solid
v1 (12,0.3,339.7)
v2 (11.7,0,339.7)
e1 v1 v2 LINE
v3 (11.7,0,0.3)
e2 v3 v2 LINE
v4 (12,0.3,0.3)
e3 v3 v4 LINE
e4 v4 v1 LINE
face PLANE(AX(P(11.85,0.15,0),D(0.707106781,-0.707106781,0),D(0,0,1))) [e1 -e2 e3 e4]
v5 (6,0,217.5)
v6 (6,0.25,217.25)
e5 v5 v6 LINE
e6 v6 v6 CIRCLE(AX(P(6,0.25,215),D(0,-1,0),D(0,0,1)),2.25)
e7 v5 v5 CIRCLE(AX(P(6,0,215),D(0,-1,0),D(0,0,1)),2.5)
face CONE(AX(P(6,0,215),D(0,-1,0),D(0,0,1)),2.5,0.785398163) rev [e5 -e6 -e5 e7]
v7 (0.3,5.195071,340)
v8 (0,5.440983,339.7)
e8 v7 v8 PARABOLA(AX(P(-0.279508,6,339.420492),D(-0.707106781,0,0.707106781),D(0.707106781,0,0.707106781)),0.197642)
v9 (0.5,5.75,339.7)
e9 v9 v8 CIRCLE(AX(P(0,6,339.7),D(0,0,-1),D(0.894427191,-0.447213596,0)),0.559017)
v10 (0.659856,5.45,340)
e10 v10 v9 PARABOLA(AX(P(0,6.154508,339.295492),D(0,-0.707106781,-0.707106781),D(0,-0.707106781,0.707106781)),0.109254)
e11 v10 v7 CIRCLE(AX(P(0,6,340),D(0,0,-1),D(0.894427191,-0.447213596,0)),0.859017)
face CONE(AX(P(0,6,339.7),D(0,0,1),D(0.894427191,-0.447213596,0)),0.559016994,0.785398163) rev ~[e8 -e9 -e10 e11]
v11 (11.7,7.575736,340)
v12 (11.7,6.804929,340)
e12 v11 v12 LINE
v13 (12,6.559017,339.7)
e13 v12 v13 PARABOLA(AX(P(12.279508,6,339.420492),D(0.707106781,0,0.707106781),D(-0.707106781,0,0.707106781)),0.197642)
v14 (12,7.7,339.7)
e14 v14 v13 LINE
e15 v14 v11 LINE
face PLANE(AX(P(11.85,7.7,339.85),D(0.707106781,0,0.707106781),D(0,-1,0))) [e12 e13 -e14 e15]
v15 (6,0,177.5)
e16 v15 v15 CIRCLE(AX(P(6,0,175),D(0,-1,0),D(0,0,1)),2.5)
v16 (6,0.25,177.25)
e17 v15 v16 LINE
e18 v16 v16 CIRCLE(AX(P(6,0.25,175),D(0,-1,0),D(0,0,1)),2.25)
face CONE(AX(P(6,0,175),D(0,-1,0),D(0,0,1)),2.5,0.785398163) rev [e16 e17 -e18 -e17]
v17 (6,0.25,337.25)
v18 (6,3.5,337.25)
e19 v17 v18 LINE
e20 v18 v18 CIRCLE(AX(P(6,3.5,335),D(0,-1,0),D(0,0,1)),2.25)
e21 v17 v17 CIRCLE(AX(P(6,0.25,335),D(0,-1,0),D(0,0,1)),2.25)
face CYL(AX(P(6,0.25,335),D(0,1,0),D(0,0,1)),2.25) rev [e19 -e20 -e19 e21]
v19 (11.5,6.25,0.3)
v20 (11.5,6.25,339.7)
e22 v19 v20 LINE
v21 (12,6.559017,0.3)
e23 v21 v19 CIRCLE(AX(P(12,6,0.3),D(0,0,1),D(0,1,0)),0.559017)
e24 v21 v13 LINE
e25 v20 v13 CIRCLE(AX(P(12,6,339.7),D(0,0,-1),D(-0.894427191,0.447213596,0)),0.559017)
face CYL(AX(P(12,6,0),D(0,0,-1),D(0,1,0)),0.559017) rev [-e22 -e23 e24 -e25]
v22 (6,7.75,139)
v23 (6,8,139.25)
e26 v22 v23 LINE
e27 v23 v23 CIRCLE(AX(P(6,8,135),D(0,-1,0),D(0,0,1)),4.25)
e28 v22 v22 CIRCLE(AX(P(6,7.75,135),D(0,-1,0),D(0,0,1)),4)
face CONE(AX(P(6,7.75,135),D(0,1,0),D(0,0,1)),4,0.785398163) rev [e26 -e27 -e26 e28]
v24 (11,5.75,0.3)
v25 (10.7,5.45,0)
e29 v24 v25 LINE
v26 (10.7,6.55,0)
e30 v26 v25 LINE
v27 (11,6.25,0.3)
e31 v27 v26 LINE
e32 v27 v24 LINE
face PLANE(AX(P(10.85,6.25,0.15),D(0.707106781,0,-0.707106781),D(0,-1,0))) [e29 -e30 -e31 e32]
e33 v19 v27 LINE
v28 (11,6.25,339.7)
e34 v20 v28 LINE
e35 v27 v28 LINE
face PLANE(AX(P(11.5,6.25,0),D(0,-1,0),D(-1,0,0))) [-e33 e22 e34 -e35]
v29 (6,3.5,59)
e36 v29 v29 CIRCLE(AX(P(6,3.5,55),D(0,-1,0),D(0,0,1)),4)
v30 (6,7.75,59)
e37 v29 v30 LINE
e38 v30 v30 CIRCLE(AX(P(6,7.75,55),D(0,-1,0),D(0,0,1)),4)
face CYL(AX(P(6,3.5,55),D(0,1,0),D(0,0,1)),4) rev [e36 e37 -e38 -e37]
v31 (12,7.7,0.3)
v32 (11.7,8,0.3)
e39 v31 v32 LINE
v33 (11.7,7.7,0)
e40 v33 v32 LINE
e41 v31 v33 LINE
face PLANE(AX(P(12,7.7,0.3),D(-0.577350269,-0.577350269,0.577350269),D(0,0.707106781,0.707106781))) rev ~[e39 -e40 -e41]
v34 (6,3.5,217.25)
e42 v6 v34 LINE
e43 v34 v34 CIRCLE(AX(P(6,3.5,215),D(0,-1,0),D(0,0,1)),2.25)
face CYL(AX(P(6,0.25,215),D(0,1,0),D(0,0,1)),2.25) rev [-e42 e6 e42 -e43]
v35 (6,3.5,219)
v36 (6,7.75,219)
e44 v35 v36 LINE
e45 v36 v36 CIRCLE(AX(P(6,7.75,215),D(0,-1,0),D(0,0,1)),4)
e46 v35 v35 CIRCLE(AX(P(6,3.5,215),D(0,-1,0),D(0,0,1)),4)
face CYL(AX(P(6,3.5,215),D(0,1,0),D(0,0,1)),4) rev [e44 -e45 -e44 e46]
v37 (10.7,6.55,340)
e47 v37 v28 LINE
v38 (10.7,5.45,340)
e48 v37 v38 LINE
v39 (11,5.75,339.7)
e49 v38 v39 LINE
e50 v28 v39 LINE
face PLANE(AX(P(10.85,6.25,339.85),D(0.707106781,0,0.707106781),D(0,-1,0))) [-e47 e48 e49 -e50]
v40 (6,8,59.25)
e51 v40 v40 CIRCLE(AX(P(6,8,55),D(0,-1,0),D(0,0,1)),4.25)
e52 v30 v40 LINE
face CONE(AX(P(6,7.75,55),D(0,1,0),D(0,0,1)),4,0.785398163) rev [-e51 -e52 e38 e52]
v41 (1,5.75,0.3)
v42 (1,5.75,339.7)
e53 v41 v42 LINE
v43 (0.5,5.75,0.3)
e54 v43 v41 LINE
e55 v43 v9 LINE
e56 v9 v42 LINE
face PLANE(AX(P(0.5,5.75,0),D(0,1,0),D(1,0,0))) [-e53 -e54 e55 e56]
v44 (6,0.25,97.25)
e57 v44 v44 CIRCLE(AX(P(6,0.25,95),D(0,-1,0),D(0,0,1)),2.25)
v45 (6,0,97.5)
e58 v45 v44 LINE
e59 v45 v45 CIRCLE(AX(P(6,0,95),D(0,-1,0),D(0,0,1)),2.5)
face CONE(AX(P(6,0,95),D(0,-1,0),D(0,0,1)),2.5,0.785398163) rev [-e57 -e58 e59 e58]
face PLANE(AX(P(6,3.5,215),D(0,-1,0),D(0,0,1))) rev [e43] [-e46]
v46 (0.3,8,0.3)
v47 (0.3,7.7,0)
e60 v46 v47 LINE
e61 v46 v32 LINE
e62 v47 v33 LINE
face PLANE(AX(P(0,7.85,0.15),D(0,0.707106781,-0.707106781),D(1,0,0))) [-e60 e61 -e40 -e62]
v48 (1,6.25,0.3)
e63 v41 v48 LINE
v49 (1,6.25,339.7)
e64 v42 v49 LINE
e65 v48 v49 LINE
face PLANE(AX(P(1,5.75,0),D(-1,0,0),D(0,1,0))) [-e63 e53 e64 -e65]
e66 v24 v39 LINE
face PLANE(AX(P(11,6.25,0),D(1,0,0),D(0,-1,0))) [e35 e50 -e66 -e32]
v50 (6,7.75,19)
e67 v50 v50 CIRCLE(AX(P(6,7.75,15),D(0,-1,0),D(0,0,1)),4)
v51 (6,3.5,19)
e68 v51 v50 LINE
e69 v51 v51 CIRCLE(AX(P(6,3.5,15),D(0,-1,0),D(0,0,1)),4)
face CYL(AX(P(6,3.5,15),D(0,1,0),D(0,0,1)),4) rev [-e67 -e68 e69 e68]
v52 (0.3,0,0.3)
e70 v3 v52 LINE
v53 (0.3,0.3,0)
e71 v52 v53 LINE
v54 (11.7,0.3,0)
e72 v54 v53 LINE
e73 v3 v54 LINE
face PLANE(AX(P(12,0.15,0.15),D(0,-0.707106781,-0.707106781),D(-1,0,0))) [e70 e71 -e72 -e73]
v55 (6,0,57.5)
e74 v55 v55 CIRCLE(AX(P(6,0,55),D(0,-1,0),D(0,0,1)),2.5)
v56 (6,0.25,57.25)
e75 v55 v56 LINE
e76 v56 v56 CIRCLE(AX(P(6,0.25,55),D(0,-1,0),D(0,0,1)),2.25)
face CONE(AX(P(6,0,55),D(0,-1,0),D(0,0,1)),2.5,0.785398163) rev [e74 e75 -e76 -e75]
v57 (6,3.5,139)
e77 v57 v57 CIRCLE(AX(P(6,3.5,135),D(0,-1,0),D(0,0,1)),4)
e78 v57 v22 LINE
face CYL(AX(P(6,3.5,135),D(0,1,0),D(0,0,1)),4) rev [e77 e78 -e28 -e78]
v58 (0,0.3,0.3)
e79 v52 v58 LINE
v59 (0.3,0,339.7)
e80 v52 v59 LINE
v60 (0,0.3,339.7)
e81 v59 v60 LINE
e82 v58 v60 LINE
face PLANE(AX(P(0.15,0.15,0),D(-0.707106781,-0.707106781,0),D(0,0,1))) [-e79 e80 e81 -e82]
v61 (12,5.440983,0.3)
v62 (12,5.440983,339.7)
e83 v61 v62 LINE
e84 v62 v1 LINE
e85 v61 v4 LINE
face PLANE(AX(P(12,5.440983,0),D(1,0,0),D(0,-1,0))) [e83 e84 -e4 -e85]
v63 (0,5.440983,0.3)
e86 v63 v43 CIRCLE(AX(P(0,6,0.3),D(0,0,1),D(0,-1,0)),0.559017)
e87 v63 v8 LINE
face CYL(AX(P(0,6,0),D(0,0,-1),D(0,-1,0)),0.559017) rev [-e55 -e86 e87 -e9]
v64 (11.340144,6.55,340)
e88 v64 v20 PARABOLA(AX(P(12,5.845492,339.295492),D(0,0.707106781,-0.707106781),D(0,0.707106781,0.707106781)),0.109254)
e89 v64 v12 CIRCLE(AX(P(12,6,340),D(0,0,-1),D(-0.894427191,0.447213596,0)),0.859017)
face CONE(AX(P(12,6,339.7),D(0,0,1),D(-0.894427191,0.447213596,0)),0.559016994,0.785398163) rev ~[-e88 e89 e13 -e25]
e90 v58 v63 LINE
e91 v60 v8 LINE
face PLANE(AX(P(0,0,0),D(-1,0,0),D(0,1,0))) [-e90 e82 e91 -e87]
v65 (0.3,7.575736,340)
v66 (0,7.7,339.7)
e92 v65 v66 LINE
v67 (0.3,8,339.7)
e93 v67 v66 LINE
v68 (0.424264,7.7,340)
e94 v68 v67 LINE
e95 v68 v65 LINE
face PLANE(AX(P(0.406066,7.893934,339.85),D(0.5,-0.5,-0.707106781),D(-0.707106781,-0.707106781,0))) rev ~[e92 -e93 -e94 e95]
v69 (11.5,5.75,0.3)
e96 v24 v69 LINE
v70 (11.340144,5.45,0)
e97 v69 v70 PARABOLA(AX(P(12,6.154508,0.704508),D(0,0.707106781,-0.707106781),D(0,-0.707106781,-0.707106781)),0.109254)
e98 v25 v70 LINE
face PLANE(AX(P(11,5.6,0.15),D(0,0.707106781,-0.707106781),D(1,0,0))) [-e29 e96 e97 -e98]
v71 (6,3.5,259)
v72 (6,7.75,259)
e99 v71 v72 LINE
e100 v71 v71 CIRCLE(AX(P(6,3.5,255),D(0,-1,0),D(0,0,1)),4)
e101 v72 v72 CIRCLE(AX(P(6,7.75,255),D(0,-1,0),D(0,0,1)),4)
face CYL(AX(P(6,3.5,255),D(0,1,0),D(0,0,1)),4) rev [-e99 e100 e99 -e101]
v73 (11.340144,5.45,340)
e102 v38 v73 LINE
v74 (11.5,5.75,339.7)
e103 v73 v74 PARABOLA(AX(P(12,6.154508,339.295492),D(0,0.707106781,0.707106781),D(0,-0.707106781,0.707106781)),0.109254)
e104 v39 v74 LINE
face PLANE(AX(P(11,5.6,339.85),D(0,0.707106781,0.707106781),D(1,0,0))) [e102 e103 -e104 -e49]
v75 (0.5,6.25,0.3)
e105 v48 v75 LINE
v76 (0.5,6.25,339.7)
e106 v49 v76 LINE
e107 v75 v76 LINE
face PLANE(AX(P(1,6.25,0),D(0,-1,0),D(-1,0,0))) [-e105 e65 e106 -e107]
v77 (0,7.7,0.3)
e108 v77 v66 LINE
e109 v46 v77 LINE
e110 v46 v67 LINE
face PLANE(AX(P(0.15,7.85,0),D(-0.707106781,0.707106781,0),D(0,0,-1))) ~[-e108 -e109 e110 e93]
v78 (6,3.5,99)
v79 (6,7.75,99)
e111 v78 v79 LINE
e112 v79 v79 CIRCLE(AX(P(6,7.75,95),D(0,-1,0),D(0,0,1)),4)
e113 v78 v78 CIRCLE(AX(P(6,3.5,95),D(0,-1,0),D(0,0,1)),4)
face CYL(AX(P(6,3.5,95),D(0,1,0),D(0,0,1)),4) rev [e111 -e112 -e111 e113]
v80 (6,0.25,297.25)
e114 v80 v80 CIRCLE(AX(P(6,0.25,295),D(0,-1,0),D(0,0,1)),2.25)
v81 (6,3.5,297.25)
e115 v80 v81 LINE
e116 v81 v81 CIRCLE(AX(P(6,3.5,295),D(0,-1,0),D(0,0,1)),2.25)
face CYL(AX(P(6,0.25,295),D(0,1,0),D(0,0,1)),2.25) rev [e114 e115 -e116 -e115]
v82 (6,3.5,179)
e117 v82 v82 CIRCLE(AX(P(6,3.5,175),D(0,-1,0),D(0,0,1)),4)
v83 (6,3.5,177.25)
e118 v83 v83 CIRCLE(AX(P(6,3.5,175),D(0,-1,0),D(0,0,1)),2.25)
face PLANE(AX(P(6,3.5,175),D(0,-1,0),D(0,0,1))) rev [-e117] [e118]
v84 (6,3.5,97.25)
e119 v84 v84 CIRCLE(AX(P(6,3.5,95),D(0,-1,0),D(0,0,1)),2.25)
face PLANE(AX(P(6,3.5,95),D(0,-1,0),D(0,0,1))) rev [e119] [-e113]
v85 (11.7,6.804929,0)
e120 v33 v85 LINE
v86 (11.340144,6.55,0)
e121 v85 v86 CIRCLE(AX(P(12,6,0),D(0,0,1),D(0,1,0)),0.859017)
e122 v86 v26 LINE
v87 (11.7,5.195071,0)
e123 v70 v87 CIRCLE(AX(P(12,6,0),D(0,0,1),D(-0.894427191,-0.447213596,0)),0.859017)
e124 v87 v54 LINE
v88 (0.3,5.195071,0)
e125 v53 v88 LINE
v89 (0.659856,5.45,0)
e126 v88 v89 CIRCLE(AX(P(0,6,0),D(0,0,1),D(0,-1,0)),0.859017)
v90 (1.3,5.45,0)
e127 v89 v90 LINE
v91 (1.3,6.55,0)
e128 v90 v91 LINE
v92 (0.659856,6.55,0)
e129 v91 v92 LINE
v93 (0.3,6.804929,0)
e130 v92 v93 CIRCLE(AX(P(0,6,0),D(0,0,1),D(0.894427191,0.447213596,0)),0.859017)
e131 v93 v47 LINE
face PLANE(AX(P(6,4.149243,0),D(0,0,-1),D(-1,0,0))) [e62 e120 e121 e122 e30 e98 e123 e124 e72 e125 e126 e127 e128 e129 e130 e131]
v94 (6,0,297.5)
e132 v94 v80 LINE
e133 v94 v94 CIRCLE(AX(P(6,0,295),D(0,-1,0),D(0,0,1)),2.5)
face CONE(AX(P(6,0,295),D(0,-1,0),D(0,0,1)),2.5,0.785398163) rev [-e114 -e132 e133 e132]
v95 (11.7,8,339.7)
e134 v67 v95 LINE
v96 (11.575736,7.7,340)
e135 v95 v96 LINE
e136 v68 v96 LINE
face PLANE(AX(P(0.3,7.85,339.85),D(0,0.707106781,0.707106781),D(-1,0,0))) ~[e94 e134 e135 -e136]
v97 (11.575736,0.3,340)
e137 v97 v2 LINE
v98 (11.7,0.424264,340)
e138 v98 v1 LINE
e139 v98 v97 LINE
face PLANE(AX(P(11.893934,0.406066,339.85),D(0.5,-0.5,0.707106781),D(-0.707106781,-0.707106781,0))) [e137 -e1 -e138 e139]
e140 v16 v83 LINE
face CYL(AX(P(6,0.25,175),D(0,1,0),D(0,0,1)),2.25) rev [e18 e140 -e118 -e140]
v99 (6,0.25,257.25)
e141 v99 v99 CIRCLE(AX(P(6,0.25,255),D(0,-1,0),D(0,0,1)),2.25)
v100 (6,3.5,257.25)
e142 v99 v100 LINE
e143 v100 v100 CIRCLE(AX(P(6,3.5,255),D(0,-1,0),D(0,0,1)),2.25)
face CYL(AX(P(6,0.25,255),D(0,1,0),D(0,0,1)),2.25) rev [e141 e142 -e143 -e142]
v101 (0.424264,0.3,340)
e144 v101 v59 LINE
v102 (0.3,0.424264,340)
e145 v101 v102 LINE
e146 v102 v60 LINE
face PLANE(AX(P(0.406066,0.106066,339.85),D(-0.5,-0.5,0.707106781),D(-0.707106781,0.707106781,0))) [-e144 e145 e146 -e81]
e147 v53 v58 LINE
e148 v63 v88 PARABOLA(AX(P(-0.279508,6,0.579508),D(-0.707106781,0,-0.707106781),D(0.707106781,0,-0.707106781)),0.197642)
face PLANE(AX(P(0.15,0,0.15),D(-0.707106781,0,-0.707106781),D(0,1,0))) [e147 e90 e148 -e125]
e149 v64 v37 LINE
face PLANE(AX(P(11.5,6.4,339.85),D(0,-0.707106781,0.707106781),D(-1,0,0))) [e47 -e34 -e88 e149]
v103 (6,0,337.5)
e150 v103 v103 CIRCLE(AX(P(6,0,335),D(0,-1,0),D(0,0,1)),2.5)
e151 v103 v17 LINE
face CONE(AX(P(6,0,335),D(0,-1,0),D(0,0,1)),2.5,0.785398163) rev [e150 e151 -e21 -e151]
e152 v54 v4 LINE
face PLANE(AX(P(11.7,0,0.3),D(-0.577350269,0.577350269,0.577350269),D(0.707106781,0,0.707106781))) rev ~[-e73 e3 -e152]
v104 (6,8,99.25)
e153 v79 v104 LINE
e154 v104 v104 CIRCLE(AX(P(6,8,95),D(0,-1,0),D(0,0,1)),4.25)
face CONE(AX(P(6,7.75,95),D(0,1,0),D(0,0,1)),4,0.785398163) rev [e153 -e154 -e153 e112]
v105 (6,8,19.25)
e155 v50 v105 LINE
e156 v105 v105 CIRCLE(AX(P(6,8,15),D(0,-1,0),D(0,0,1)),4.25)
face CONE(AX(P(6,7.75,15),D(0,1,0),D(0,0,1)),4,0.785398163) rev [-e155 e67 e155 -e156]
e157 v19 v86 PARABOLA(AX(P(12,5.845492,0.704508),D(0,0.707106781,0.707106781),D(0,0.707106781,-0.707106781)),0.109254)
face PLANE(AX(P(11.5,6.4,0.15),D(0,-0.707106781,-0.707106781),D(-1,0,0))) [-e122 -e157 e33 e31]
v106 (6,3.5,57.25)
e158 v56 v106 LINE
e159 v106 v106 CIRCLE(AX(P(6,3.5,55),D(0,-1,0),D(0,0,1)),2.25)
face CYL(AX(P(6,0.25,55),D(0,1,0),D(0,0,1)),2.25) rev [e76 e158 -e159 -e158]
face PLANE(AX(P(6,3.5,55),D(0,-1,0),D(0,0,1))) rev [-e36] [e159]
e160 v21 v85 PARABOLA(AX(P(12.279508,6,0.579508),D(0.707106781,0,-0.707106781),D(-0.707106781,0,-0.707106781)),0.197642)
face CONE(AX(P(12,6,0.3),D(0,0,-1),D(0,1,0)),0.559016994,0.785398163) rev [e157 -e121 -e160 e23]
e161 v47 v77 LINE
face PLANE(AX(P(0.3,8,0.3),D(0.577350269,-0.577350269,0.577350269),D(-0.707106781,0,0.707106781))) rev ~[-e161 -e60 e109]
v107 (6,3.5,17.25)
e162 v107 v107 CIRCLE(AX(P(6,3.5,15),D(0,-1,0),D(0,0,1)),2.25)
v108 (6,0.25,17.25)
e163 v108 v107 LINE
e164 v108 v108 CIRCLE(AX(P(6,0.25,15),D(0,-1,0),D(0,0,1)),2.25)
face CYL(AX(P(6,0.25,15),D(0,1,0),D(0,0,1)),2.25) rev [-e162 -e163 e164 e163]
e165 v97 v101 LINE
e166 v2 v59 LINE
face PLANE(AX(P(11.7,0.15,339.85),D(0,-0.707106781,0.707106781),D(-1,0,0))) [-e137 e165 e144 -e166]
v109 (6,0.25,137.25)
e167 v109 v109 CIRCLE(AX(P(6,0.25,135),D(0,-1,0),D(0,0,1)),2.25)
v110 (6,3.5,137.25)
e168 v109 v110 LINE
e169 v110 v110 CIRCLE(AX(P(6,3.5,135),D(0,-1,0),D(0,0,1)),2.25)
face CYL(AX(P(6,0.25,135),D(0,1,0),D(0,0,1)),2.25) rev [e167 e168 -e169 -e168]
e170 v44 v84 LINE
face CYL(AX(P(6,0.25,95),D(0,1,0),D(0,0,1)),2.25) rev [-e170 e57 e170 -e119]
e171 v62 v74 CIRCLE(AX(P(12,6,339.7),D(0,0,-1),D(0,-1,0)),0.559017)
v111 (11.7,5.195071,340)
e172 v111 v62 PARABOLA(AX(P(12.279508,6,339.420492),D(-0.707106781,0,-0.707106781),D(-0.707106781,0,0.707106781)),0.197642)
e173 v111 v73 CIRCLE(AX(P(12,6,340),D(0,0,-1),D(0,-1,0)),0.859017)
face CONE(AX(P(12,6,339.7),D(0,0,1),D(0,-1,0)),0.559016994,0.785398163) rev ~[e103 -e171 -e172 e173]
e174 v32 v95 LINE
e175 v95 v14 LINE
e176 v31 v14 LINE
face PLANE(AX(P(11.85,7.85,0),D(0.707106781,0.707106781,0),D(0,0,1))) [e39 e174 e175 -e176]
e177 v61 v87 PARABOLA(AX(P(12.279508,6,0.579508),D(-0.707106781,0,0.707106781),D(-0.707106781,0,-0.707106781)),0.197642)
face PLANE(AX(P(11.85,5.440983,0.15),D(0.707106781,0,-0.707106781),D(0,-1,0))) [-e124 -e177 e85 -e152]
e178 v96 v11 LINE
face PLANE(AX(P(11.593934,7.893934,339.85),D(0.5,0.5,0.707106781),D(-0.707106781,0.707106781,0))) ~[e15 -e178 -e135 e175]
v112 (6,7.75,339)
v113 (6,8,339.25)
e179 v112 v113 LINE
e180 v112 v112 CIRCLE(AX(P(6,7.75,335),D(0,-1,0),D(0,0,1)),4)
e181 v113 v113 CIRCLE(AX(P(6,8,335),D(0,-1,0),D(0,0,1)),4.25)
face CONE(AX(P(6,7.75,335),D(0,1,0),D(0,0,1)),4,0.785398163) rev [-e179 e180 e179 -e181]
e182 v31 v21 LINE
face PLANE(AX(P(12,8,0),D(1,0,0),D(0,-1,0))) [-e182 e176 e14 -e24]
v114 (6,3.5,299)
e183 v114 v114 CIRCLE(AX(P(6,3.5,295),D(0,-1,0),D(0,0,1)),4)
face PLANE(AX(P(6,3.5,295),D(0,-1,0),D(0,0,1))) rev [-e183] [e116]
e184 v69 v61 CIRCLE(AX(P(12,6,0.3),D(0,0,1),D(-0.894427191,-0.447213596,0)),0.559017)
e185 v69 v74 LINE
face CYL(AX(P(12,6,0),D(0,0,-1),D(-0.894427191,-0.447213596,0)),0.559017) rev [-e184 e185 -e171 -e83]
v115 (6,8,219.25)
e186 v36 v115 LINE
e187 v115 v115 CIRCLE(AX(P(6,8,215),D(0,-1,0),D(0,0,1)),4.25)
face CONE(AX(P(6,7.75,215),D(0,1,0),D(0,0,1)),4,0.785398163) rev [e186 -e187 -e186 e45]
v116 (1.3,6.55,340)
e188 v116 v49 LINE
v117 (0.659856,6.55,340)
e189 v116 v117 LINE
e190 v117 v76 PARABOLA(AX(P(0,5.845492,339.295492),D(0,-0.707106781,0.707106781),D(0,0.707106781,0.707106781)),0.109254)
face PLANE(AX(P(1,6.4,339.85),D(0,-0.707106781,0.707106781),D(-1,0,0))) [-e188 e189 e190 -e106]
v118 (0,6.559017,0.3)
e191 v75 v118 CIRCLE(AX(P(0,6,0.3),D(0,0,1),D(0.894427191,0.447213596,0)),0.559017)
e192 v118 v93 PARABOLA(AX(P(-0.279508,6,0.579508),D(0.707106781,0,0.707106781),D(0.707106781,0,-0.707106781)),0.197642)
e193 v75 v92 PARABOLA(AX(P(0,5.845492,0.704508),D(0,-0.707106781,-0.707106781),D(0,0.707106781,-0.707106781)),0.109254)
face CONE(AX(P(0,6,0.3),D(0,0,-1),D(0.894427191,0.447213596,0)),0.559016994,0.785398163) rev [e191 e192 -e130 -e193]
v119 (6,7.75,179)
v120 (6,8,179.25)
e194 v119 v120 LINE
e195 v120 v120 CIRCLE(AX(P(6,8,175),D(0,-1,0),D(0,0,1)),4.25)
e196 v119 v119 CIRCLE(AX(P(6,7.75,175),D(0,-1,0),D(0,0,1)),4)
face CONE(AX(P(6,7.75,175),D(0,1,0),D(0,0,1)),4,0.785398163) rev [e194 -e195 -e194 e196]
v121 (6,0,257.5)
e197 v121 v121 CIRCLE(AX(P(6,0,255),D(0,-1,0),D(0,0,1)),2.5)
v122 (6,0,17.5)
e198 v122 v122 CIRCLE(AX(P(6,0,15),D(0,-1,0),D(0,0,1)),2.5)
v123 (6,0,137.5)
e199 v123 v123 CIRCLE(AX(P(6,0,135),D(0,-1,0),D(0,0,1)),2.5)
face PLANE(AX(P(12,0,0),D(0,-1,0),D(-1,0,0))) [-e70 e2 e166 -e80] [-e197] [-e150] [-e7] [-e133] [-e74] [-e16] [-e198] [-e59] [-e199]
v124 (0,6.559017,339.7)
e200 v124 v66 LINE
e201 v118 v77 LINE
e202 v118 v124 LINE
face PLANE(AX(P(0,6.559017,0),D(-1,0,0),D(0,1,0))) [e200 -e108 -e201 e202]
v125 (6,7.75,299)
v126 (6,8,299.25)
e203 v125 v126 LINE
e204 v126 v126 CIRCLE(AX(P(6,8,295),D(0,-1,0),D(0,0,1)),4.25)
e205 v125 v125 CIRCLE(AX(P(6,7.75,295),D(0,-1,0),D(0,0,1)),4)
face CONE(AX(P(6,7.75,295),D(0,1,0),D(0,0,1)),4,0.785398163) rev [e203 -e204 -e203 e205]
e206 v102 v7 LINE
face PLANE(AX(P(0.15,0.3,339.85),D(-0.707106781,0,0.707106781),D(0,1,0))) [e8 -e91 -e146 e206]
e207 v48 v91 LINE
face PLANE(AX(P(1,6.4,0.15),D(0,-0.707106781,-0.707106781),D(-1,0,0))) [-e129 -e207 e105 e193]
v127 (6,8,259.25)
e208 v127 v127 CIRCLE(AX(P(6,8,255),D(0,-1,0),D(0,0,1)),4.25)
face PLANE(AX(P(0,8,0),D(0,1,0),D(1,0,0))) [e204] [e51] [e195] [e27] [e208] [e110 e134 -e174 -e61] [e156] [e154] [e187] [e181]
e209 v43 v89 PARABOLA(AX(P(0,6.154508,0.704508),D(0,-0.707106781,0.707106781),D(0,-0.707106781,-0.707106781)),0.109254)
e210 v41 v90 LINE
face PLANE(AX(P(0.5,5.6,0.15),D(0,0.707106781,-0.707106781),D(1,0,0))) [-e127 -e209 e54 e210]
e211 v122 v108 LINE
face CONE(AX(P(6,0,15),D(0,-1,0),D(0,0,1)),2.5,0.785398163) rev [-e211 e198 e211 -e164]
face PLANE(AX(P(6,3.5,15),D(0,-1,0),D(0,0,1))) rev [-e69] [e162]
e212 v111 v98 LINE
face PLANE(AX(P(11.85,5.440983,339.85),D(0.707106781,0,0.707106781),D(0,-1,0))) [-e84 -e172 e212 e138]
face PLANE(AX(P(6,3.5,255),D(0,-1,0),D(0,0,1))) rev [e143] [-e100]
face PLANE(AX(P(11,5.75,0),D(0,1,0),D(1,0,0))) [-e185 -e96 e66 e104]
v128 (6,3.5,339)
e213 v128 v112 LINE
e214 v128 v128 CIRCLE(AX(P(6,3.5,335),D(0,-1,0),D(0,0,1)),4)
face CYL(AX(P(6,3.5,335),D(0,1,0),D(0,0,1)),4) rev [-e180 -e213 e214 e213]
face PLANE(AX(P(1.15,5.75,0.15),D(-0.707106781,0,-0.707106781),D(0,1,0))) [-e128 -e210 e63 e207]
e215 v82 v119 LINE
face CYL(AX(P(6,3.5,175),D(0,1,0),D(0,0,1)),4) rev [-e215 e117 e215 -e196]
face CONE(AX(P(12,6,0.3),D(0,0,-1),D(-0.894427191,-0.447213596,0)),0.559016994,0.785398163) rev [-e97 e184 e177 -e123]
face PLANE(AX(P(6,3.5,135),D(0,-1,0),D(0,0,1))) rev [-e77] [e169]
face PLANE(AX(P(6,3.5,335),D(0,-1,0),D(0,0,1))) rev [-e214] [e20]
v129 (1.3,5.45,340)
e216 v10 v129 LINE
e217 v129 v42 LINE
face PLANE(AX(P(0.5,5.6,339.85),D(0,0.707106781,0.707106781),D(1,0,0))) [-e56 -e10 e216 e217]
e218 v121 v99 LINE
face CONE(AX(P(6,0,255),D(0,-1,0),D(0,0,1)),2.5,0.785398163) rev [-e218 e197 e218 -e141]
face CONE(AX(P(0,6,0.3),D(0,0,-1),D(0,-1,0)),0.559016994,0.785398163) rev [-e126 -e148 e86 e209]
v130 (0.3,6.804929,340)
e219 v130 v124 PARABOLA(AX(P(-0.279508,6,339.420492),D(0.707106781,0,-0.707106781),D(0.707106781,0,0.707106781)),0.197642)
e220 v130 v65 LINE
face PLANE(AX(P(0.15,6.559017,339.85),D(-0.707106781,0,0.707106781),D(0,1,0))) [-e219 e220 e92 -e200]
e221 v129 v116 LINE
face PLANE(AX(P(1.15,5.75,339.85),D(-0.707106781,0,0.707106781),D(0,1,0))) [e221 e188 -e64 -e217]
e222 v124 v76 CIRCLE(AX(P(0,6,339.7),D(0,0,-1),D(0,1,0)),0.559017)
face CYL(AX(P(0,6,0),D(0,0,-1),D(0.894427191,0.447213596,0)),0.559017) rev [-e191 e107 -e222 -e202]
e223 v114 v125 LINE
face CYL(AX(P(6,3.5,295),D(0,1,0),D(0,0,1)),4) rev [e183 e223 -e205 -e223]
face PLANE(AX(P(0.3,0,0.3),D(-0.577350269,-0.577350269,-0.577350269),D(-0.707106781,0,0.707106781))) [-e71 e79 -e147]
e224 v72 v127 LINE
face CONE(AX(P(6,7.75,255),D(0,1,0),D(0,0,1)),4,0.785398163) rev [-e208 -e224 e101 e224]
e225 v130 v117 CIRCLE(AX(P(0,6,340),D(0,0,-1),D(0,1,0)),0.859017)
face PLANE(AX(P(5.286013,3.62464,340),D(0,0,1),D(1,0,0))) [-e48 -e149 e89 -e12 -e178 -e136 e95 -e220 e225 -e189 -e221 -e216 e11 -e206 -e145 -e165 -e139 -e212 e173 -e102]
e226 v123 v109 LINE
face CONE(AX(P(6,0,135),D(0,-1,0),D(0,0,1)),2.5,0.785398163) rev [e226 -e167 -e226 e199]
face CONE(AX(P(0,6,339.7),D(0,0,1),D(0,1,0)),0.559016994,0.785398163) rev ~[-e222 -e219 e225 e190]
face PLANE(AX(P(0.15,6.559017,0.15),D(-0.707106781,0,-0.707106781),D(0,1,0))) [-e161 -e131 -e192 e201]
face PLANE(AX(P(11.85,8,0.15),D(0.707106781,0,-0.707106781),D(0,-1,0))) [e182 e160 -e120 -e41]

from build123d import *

# Parameters (mm, degrees)
BOSS_EXTRUDE1_DEPTH   = 470
CHAMFER1_SIZE         = 0.3
LPATTERN1_COUNT       = 12
LPATTERN1_PITCH       = 40
CROQUIS1_W            = 18.891255934
CROQUIS1_H            = 12.405534969
CORTAR_EXTRUIR2_DEPTH = 130
CHAFL_N1_SIZE         = 0.3


with BuildPart() as part:
    # Sketch1 → Boss-Extrude1 (new body)
    with BuildSketch(Plane.XY):
        with BuildLine():
            Line((0, 8), (12, 8))
            Line((12, 8), (12, 6.75))
            Line((12, 6.75), (12, 6.559016994))
            ThreePointArc((12, 6.559016994), (11.706107374, 6.475528258), (11.5, 6.25))
            Line((11.5, 6.25), (11, 6.25))
            Line((11, 6.25), (11, 5.75))
            Line((11, 5.75), (11.5, 5.75))
            ThreePointArc((11.5, 5.75), (11.706107374, 5.524471742), (12, 5.440983006))
            Line((12, 5.440983006), (12, 5.25))
            Line((12, 5.25), (12, 0))
            Line((12, 0), (0, 0))
            Line((0, 0), (0, 5.25))
            Line((0, 5.25), (0, 5.440983006))
            ThreePointArc((0, 5.440983006), (0.293892626, 5.524471742), (0.5, 5.75))
            Line((0.5, 5.75), (1, 5.75))
            Line((1, 5.75), (1, 6.25))
            Line((1, 6.25), (0.5, 6.25))
            ThreePointArc((0.5, 6.25), (0.293892626, 6.475528258), (0, 6.559016994))
            Line((0, 6.559016994), (0, 6.75))
            Line((0, 6.75), (0, 8))
        make_face()
    extrude(amount=BOSS_EXTRUDE1_DEPTH)

    # Chamfer1
    chamfer1_edges = [part.edges().sort_by_distance(p)[0] for p in [
        (12, 2.720491503, 470),
        (11.706107374, 5.524471742, 470),
        (0, 2.720491503, 0),
        (0.293892626, 5.524471742, 0),
        (0.75, 5.75, 0),
        (1, 6, 0),
        (0.75, 6.25, 0),
        (11.25, 5.75, 470),
        (0.293892626, 6.475528258, 0),
        (0, 7.279508497, 0),
        (6, 8, 0),
        (12, 7.279508497, 0),
        (11.706107374, 6.475528258, 0),
        (11, 6, 470),
        (11.25, 6.25, 0),
        (11, 6, 0),
        (11.25, 5.75, 0),
        (11.706107374, 5.524471742, 0),
        (12, 2.720491503, 0),
        (6, 0, 0),
        (11.25, 6.25, 470),
        (11.706107374, 6.475528258, 470),
        (12, 7.279508497, 470),
        (0, 8, 235),
        (12, 8, 235),
        (12, 0, 235),
        (0, 0, 235),
        (6, 8, 470),
        (0, 2.720491503, 470),
        (0, 7.279508497, 470),
        (0.293892626, 6.475528258, 470),
        (0.75, 6.25, 470),
        (1, 6, 470),
        (0.75, 5.75, 470),
        (0.293892626, 5.524471742, 470),
        (6, 0, 470),
    ]]
    chamfer(chamfer1_edges, length=CHAMFER1_SIZE)

    # Sketch3 → CBORE for M5 Hex Head Bolt1 (revolve, cut)
    with BuildSketch(Plane(origin=(6, 8, 15), x_dir=(0, 0, 1), z_dir=(1, 0, 0))):
        Polygon((0, 0), (0, 8), (2.5, 8), (2.25, 7.75), (2.25, 4.5), (4, 4.5), (4, 0.25), (4.25, 0), align=None)
    cbore_for_m5_hex_head_bolt1 = revolve(axis=Axis((6, 14.35, 15), (0, -1, 0)), mode=Mode.SUBTRACT)

    # LPattern1: CBORE for M5 Hex Head Bolt1 ×12
    with Locations(*[(0, 0, i * LPATTERN1_PITCH) for i in range(1, LPATTERN1_COUNT)]):
        add(cbore_for_m5_hex_head_bolt1, mode=Mode.SUBTRACT)

    # Croquis1 → Cortar-Extruir2 (cut)
    with BuildSketch(Plane.XY.offset(470)):
        with Locations((5.286012754, 3.624640076)):
            Rectangle(CROQUIS1_W, CROQUIS1_H)
    extrude(amount=-CORTAR_EXTRUIR2_DEPTH, mode=Mode.SUBTRACT)

    # Chaflán1
    chafl_n1_edges = [part.edges().sort_by_distance(p)[0] for p in [
        (0.15, 0.15, 340),
        (11.85, 0.15, 340),
        (0.15, 7.85, 340),
        (11.85, 7.85, 340),
        (12, 2.870491503, 340),
        (11.706107374, 5.524471742, 340),
        (11.25, 5.75, 340),
        (11, 6, 340),
        (11.25, 6.25, 340),
        (11.706107374, 6.475528258, 340),
        (12, 7.129508497, 340),
        (6, 8, 340),
        (0, 7.129508497, 340),
        (0.293892626, 6.475528258, 340),
        (0.75, 6.25, 340),
        (1, 6, 340),
        (0.75, 5.75, 340),
        (0.293892626, 5.524471742, 340),
        (0, 2.870491503, 340),
        (6, 0, 340),
    ]]
    chamfer(chafl_n1_edges, length=CHAFL_N1_SIZE)


solid = part.part
